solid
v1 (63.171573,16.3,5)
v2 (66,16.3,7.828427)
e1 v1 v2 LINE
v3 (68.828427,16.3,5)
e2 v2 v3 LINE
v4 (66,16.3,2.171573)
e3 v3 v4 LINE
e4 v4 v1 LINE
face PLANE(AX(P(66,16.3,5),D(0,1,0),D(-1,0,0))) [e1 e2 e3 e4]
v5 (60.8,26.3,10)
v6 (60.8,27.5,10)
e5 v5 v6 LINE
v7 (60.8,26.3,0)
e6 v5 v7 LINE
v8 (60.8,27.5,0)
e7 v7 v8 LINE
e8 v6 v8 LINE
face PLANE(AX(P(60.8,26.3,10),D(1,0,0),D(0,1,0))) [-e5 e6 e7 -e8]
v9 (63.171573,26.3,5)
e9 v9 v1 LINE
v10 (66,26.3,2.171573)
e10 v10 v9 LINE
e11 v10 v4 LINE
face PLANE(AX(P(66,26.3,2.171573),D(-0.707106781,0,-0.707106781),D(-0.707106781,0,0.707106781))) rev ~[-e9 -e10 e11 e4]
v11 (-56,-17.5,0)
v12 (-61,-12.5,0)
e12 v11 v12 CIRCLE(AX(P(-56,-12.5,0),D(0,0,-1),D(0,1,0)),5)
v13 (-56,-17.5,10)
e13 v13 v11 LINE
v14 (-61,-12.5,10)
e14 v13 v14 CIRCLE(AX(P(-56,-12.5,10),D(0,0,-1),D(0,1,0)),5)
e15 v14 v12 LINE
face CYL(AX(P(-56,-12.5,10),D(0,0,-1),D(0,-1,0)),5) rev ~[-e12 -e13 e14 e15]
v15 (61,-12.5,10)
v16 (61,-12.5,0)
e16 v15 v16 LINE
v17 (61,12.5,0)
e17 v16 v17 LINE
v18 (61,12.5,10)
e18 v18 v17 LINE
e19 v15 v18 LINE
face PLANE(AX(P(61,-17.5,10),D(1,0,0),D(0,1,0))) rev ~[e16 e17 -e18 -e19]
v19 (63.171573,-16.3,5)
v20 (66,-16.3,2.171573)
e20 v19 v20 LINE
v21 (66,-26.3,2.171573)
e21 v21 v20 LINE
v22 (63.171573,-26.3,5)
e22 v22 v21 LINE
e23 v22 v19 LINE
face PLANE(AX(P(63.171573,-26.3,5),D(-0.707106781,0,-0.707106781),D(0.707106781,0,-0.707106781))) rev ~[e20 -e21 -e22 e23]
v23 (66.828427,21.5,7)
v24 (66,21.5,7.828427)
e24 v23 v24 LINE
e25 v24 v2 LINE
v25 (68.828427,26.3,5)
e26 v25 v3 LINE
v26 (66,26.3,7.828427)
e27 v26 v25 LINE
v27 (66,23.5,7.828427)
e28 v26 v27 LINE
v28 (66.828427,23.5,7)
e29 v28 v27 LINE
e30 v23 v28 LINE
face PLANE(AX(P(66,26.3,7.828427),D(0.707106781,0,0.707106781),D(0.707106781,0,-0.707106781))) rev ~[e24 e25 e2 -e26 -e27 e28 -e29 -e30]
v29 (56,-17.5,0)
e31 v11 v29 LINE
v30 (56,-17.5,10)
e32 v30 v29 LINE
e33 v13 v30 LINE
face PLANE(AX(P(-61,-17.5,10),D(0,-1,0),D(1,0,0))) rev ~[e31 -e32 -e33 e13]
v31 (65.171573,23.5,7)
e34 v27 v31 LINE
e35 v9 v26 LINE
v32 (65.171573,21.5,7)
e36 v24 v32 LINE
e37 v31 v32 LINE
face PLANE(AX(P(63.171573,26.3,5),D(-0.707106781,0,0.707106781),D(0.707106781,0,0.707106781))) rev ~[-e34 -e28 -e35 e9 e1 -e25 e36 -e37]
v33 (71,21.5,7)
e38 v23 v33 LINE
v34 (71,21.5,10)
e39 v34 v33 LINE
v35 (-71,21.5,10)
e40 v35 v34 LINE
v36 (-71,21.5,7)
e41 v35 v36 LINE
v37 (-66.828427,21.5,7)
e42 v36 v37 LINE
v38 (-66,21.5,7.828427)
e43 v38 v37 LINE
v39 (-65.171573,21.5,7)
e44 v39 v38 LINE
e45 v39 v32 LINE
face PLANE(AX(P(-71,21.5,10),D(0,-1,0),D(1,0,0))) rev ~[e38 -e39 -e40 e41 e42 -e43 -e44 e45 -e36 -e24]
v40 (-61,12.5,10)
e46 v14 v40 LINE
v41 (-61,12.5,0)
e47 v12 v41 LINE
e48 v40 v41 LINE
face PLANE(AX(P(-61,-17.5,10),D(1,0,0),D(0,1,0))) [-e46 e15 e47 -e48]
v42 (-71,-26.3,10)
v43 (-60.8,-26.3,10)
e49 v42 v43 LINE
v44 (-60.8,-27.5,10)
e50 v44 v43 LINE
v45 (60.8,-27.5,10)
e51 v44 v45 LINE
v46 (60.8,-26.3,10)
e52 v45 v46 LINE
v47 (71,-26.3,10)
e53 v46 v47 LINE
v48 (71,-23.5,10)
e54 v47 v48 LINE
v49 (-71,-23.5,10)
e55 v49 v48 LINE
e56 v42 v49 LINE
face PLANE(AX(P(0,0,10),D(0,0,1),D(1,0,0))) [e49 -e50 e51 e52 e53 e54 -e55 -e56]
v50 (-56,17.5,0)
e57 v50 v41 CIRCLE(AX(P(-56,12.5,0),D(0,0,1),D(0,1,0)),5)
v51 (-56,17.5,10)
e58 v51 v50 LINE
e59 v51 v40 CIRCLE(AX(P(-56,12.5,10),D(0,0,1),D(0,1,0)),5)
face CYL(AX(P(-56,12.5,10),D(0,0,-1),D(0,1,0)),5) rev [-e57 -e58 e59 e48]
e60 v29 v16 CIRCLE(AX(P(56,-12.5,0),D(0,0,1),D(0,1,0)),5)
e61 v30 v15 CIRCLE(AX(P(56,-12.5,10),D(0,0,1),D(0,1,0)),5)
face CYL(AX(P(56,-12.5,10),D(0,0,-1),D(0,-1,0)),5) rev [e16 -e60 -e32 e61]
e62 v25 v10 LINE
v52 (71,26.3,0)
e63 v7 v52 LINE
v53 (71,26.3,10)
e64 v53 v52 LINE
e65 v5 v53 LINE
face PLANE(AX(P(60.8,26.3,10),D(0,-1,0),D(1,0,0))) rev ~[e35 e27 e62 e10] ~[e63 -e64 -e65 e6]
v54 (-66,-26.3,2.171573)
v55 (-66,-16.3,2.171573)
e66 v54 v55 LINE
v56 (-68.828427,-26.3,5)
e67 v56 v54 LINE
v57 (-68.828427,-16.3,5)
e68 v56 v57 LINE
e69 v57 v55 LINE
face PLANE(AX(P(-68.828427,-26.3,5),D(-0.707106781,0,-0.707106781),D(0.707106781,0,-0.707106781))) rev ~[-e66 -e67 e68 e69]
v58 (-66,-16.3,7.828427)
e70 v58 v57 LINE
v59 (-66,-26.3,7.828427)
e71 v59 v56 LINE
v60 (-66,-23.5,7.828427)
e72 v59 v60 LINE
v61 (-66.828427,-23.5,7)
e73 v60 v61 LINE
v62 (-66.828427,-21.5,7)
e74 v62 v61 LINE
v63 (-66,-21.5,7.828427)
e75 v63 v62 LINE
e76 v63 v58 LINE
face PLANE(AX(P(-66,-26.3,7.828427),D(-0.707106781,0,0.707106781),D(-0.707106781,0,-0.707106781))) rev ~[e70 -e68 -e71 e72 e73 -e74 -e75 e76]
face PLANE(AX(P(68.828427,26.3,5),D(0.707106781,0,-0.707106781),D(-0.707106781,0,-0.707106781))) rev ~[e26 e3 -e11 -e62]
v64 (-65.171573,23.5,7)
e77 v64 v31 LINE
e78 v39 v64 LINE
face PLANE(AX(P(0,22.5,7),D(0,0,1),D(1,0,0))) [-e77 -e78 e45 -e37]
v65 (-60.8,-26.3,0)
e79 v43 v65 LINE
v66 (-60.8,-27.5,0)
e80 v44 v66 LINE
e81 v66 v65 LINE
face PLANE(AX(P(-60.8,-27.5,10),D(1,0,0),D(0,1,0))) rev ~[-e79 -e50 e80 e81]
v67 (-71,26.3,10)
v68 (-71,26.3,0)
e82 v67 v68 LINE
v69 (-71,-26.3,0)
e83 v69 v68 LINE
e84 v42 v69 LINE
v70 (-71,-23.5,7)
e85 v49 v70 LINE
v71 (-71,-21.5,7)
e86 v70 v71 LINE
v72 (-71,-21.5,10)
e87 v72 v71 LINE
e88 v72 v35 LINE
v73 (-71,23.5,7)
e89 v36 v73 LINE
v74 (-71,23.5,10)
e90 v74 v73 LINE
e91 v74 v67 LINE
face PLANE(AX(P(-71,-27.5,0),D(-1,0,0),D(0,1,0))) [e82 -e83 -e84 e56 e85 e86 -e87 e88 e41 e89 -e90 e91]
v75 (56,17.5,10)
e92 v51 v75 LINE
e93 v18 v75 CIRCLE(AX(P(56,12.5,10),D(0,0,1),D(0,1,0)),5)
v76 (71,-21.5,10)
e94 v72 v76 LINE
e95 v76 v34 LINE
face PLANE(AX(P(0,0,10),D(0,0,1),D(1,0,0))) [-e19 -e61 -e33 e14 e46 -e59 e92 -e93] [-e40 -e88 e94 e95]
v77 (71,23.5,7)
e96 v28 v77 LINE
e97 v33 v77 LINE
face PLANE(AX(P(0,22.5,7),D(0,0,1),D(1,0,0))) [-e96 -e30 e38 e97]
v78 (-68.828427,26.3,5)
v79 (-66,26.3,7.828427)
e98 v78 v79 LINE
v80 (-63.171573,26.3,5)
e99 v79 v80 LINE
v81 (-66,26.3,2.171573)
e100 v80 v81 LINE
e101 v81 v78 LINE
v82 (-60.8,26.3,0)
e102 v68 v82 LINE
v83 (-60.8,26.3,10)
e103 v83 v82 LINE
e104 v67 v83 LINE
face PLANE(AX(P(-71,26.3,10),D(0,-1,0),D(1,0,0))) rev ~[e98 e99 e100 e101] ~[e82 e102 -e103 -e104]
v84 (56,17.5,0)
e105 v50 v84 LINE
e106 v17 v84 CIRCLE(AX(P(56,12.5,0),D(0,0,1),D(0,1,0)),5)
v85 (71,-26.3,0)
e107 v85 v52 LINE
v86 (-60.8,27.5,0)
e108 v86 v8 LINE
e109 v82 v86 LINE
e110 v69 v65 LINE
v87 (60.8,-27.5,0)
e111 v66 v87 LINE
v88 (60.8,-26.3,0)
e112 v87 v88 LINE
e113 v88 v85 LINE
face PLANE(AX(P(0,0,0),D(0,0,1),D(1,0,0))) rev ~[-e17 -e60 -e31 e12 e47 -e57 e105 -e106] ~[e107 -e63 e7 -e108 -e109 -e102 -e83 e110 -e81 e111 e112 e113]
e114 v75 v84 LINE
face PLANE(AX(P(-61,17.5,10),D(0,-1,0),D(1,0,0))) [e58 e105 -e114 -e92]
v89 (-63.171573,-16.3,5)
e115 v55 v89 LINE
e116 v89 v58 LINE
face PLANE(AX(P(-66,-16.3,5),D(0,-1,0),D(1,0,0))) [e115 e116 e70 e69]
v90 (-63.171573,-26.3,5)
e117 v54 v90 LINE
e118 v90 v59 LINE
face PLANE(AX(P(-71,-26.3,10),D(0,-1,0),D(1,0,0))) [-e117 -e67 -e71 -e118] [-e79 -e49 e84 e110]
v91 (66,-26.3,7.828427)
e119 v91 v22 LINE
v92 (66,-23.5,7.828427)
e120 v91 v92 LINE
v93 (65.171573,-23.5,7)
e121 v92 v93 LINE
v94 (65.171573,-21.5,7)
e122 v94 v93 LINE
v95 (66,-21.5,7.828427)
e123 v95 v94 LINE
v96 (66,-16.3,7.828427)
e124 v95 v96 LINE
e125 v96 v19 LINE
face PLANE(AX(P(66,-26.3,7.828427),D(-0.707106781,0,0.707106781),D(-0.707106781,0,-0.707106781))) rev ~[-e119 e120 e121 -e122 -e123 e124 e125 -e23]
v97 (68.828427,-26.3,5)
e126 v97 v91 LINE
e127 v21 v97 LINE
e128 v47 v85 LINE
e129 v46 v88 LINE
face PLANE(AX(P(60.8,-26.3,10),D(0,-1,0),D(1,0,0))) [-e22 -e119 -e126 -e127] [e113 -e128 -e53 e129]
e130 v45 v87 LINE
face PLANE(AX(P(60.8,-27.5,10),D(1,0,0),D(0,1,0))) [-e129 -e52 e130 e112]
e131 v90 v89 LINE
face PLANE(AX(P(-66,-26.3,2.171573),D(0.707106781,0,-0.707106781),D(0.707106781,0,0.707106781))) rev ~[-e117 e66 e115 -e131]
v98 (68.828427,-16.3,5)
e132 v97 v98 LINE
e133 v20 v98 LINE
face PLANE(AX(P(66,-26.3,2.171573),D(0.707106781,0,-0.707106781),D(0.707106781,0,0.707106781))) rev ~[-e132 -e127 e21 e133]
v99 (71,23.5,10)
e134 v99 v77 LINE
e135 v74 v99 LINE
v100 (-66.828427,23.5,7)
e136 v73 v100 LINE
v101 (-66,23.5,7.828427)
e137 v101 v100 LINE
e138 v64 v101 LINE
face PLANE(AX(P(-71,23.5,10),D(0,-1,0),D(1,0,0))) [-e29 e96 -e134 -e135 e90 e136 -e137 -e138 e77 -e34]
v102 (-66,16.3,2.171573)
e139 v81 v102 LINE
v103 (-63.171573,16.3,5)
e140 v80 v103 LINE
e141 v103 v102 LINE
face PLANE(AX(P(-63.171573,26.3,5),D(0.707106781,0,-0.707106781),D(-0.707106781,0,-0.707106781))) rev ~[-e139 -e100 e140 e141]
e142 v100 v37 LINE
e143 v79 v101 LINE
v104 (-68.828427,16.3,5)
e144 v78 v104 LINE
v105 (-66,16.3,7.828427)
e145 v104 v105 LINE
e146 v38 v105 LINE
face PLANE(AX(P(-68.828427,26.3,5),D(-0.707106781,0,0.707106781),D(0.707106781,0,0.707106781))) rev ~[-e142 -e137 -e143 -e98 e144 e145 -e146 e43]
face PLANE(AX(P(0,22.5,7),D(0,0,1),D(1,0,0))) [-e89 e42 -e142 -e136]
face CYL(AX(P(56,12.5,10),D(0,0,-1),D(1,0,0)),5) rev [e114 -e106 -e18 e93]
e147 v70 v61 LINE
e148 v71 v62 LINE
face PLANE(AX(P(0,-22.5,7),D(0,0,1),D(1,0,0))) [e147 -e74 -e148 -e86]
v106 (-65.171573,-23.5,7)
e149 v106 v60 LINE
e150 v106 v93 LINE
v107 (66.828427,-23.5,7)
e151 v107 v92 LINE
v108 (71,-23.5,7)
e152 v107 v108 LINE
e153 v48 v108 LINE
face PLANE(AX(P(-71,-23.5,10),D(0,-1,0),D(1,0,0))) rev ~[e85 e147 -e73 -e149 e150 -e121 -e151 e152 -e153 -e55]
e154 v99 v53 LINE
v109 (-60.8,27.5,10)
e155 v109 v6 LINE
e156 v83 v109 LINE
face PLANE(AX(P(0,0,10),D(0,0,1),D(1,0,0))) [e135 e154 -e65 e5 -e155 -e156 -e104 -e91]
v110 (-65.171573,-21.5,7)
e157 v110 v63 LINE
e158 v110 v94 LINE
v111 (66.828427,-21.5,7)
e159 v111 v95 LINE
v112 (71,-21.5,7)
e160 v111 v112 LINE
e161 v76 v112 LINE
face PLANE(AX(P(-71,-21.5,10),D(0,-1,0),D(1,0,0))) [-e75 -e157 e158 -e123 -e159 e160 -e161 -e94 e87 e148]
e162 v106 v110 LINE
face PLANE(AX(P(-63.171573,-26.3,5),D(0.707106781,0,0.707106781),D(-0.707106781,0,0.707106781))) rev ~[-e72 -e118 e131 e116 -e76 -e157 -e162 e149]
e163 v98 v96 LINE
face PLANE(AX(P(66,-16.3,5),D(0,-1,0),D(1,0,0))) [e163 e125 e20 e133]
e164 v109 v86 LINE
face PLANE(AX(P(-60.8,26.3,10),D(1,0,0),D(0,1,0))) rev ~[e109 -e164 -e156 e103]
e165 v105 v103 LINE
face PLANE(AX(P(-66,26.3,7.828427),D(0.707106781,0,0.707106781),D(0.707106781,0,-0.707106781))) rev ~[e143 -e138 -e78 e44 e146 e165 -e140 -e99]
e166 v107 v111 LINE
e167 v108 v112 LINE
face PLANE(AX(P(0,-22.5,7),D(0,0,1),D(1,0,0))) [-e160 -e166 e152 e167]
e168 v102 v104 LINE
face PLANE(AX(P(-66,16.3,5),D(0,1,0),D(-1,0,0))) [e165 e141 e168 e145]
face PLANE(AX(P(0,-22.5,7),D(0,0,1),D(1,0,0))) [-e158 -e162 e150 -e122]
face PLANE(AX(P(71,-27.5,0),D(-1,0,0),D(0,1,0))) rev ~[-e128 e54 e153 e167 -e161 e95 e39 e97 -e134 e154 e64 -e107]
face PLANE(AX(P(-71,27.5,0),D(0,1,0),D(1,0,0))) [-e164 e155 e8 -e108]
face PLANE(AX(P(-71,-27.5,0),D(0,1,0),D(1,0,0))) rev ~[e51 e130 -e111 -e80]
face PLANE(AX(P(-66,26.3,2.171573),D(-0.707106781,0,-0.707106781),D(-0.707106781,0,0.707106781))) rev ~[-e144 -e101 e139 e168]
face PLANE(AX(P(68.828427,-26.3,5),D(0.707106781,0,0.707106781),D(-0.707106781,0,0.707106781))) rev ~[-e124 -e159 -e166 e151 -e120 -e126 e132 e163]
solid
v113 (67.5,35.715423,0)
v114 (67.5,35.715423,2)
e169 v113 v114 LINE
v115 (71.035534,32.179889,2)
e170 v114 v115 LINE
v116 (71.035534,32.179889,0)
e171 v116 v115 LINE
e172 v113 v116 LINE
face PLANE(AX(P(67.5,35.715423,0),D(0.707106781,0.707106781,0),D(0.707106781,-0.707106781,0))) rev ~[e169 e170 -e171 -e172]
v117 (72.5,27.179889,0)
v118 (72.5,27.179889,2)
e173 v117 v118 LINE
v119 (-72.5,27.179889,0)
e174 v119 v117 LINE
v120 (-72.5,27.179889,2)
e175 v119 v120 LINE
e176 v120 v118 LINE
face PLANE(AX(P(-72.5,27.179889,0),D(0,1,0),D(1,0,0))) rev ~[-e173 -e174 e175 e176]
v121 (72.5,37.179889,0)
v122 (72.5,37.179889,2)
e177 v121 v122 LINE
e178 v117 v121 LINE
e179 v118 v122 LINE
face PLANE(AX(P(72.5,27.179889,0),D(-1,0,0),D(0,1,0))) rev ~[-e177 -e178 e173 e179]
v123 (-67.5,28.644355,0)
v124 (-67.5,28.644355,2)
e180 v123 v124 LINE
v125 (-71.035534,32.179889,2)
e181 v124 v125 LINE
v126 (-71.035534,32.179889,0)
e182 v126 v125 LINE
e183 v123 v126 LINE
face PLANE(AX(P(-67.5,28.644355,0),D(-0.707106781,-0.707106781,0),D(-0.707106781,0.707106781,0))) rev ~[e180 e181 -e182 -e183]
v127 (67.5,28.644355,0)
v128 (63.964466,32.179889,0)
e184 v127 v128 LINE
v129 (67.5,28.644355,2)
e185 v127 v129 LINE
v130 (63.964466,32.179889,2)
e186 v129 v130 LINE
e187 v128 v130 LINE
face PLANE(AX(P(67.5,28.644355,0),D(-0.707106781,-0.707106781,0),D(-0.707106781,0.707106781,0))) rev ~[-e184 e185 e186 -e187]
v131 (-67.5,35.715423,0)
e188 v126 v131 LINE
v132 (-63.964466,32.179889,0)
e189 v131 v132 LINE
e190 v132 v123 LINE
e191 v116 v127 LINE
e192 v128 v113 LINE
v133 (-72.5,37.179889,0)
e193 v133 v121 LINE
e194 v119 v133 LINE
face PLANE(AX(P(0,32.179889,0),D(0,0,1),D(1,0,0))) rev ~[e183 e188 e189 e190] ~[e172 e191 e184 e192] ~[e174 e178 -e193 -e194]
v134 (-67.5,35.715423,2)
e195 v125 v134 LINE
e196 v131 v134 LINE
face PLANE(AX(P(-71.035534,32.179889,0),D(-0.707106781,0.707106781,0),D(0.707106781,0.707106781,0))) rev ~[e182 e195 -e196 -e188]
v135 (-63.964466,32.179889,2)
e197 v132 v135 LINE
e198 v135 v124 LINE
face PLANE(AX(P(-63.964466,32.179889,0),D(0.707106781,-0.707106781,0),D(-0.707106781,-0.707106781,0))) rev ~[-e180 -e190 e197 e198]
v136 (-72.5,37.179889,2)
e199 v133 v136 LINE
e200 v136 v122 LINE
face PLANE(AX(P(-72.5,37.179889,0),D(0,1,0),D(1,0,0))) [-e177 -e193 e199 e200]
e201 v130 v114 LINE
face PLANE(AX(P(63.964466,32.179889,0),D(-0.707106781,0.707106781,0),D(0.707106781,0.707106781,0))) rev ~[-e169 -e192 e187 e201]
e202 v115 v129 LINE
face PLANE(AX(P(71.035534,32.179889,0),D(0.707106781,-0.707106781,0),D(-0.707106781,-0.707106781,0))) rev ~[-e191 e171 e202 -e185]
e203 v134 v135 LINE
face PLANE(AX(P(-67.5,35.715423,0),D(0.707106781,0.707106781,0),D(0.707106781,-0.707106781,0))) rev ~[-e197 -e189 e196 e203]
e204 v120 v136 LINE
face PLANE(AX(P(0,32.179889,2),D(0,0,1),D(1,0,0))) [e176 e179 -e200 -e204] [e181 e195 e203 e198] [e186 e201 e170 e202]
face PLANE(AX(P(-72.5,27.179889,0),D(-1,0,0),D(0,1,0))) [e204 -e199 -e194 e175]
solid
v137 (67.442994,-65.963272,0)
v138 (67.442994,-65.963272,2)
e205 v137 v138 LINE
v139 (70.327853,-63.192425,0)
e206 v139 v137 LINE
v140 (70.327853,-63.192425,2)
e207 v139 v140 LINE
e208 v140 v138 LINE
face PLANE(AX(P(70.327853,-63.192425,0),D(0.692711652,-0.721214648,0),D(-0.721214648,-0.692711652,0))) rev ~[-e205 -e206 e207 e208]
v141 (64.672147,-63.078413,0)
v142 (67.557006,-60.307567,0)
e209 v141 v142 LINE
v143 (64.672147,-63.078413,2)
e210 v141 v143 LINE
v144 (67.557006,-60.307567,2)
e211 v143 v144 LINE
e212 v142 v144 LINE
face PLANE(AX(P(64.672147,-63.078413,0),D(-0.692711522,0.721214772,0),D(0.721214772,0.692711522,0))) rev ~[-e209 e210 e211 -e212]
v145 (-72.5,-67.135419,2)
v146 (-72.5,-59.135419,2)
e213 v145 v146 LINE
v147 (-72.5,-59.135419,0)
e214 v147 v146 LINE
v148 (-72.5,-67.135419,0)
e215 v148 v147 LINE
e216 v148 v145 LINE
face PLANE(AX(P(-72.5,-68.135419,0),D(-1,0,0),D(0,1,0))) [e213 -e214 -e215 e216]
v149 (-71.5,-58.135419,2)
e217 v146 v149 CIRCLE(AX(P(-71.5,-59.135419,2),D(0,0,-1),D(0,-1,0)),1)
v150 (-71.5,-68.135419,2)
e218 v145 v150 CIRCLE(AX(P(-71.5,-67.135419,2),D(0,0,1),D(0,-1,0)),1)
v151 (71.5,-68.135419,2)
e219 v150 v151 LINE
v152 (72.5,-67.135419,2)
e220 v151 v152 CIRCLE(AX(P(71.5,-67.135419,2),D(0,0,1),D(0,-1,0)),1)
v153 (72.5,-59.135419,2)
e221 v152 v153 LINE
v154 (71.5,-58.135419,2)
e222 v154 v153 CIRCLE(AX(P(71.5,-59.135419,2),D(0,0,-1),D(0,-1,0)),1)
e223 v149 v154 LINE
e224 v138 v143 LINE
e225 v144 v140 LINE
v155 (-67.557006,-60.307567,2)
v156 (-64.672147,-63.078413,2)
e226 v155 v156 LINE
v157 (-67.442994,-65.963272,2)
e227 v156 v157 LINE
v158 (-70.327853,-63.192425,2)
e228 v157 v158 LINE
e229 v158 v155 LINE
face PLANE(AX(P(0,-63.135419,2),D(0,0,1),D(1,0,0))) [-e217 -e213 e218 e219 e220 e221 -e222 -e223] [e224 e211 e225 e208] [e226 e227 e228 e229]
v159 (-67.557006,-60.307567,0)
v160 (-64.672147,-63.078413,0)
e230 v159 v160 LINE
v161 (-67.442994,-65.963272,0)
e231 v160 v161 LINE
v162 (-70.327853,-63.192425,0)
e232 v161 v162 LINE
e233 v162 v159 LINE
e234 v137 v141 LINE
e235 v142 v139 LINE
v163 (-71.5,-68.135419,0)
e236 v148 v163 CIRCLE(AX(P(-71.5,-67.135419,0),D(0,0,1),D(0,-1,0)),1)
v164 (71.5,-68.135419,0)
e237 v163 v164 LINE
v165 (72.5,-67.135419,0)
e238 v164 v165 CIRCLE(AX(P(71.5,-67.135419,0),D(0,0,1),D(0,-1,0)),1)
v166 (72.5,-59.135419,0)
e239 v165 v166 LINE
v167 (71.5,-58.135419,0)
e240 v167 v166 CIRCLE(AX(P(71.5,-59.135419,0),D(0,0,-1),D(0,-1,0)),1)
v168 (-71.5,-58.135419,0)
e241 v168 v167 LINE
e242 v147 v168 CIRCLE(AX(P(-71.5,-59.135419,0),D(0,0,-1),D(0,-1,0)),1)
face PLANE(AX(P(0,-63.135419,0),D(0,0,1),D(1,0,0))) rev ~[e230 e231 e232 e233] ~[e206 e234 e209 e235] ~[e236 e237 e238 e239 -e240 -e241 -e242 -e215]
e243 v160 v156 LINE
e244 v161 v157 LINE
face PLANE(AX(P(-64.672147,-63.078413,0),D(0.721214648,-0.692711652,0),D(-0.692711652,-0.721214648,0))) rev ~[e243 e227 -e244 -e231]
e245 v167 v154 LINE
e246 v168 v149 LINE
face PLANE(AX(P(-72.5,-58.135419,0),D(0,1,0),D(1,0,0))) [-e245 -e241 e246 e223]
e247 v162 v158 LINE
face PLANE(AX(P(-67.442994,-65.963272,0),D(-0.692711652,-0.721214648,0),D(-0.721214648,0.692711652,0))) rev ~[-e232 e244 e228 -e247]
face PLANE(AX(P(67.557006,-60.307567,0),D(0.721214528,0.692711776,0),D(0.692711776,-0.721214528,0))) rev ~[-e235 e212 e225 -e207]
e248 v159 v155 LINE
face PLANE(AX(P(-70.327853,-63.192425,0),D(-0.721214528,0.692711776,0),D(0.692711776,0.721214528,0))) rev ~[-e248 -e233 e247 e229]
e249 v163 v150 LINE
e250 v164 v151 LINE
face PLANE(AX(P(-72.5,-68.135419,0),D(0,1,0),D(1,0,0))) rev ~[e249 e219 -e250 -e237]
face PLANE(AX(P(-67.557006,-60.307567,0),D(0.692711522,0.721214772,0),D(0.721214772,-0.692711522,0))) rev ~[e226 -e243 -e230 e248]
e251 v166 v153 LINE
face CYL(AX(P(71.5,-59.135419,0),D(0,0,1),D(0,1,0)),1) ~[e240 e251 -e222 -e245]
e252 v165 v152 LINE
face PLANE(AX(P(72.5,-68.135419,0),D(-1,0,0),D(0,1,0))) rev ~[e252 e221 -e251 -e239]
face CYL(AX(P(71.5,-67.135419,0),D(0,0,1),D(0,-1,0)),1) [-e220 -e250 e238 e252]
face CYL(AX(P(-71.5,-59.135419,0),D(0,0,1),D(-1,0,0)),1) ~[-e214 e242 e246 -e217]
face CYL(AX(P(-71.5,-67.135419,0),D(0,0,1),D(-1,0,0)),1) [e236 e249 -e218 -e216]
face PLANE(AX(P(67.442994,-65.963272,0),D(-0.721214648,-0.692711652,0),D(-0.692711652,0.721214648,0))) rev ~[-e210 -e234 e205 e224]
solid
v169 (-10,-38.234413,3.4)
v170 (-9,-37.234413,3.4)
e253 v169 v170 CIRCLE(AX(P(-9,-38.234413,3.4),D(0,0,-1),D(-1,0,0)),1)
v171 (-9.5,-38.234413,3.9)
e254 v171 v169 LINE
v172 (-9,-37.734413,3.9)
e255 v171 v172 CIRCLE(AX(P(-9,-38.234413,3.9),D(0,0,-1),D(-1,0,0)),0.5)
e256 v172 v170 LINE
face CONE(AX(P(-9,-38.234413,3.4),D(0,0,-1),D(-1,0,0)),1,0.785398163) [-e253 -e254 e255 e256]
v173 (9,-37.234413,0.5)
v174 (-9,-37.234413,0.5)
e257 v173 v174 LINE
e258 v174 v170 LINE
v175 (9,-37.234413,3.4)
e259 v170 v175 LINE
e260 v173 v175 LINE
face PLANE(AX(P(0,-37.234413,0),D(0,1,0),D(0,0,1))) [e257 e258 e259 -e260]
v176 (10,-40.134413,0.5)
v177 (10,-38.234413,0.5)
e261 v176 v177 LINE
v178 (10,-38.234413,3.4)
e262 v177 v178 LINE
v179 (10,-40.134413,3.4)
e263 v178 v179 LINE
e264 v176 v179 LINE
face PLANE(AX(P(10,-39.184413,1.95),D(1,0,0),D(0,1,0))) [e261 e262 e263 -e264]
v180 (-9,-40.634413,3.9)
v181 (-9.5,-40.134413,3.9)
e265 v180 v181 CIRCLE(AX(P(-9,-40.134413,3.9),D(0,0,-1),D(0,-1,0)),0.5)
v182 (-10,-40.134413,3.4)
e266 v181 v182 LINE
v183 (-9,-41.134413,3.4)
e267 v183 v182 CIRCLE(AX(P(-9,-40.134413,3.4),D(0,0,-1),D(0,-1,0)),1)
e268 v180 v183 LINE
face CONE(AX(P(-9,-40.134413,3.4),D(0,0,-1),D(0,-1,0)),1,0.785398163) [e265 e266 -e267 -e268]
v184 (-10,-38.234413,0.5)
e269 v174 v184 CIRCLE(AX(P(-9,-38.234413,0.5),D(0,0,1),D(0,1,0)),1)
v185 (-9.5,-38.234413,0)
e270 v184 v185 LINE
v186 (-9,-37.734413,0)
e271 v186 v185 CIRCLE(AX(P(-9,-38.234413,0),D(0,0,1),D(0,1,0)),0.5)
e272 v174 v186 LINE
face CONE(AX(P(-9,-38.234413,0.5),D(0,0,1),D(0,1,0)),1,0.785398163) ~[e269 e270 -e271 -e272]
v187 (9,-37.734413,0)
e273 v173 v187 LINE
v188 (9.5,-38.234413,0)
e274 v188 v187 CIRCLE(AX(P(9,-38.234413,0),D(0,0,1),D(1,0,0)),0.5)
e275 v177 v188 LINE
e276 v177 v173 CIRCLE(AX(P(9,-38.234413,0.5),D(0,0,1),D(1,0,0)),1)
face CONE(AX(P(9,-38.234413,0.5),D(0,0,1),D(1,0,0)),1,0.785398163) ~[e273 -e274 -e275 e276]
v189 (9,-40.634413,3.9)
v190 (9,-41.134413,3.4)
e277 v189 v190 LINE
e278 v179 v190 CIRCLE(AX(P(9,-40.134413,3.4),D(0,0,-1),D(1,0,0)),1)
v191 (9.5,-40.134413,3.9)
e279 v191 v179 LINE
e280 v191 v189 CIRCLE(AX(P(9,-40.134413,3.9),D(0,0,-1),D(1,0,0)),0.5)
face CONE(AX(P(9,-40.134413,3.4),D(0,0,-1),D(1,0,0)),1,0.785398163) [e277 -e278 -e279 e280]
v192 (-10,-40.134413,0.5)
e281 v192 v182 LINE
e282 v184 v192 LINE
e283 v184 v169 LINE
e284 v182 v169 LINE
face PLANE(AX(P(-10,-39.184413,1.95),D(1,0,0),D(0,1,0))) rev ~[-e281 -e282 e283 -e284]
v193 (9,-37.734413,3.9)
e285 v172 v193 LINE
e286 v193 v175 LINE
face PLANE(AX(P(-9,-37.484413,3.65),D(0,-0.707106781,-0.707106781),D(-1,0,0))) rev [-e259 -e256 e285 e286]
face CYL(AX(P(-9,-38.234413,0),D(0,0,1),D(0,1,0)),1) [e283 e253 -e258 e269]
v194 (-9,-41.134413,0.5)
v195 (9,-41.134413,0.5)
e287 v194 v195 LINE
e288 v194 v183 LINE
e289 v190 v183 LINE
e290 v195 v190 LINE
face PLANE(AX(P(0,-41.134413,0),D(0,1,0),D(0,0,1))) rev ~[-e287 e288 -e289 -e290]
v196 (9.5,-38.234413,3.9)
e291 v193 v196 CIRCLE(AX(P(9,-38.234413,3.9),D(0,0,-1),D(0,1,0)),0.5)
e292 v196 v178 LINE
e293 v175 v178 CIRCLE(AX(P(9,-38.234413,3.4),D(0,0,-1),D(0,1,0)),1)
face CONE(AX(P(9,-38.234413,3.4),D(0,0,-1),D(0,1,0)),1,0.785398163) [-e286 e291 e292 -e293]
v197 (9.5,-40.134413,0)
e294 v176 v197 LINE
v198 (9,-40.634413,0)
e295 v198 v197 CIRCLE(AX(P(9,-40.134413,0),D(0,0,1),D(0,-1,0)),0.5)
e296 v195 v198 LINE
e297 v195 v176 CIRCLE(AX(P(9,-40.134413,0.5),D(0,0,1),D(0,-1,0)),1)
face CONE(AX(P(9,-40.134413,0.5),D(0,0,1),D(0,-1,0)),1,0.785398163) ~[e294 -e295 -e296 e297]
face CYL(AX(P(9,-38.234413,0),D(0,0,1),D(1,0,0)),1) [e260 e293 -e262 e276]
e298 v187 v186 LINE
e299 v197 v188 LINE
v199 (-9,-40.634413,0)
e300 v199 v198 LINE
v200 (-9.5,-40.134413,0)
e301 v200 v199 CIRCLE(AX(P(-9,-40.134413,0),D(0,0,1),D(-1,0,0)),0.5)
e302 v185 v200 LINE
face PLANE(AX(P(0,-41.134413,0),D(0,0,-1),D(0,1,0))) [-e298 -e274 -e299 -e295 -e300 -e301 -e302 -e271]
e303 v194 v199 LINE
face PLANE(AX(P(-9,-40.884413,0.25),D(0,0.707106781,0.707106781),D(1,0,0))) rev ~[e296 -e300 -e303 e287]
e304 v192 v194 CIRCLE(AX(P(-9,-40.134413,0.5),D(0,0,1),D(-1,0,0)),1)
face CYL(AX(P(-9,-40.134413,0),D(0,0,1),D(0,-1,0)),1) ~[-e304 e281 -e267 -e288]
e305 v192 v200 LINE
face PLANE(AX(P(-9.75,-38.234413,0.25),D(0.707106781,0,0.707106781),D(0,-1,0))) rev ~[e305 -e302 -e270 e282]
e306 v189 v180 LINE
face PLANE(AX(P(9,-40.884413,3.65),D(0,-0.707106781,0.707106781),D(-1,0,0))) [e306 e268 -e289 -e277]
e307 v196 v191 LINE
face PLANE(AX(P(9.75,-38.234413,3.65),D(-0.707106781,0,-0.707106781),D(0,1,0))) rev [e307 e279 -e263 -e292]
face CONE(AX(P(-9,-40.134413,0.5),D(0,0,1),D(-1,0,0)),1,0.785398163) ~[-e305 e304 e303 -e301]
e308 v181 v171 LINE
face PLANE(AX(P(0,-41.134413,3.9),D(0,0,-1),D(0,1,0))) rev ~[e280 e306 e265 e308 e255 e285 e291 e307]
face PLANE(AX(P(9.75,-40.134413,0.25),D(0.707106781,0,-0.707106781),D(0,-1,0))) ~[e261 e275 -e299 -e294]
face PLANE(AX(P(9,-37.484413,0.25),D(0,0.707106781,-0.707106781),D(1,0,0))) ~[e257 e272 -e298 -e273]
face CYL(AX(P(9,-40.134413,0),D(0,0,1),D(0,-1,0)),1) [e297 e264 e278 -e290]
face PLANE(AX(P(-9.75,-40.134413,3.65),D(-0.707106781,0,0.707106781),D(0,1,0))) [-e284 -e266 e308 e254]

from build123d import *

# Parameters (mm, degrees)
F0_W      = 142
F0_H      = 55
F1_DEPTH  = 10
F2_W      = 142
F2_H      = 2
F3_DEPTH  = 3
F4_W      = 122
F4_H      = 35
F4_W_2    = 10.2
F4_H_2    = 1.2
F5_DEPTH  = 10.001
F7_DEPTH  = 10
F8_R      = 5
F9_W      = 3.9
F9_H      = 3.9
F10_DEPTH = 10
F11_R     = 1
F12_SIZE  = 0.5
F13_W     = 145
F13_H     = 10
F14_DEPTH = 2
F16_DEPTH = 10
F17_W     = 145
F17_H     = 10
F18_DEPTH = 2
F19_R     = 1


with BuildPart() as f1:
    # F0 (on Top) → F1 (new body)
    with BuildSketch(Plane.XY):
        Rectangle(F0_W, F0_H)
    extrude(amount=F1_DEPTH)

    # F2 (on face) → F3 (cut)
    with BuildSketch(Plane.XY.offset(10)):
        with Locations((0, 22.5)):
            Rectangle(F2_W, F2_H)
        with Locations((0, -22.5)):
            Rectangle(F2_W, F2_H)
    extrude(amount=-F3_DEPTH, mode=Mode.SUBTRACT)

    # F4 (on face) → F5 (cut, through all)
    with BuildSketch(Plane.XY.offset(10)):
        Rectangle(F4_W, F4_H)
        with Locations((-65.9, -26.9)):
            Rectangle(F4_W_2, F4_H_2)
        with Locations((-65.9, 26.9)):
            Rectangle(F4_W_2, F4_H_2)
        with Locations((65.9, 26.9)):
            Rectangle(F4_W_2, F4_H_2)
        with Locations((65.9, -26.9)):
            Rectangle(F4_W_2, F4_H_2)
    extrude(amount=-F5_DEPTH, mode=Mode.SUBTRACT)

    # F6 (on face) → F7 (cut)
    with BuildSketch(Plane.XZ.offset(26.3)):
        Polygon((-66, 2.171573), (-63.171573, 5), (-66, 7.828427), (-68.828427, 5), align=None)
        Polygon((66, 7.828427), (63.171573, 5), (66, 2.171573), (68.828427, 5), align=None)
    extrude(amount=-F7_DEPTH, mode=Mode.SUBTRACT)

    # F8
    f8_edges = [f1.edges().sort_by_distance(p)[0] for p in [
        (-61, -17.5, 5),
        (-61, 17.5, 5),
        (61, 17.5, 5),
        (61, -17.5, 5),
    ]]
    fillet(f8_edges, radius=F8_R)

    # F15 (on face) → F16 (cut)
    with BuildSketch(Plane(origin=(0, 26.3, 0), x_dir=(-1, 0, 0), z_dir=(0, 1, 0))):
        Polygon((68.828427, 5), (66, 7.828427), (63.171573, 5), (66, 2.171573), align=None)
        Polygon((-66, 7.828427), (-68.828427, 5), (-66, 2.171573), (-63.171573, 5), align=None)
    extrude(amount=-F16_DEPTH, mode=Mode.SUBTRACT)


with BuildPart() as f10:
    # F9 (on Right) → F10 (new body, symmetric)
    with BuildSketch(Plane.YZ):
        with Locations((-39.184413, 1.95)):
            Rectangle(F9_W, F9_H)
    extrude(amount=F10_DEPTH, both=True)

    # F11
    f11_edges = [f10.edges().sort_by_distance(p)[0] for p in [
        (10, -41.134413, 1.95),
        (10, -37.234413, 1.95),
        (-10, -41.134413, 1.95),
        (-10, -37.234413, 1.95),
    ]]
    fillet(f11_edges, radius=F11_R)

    # F12
    f12_edges = [f10.edges().sort_by_distance(p)[0] for p in [
        (-10, -39.184413, 3.9),
        (-9.707107, -37.527306, 3.9),
        (-9.707107, -40.841519, 3.9),
        (0, -37.234413, 3.9),
        (0, -41.134413, 3.9),
        (9.707107, -37.527306, 3.9),
        (9.707107, -40.841519, 3.9),
        (10, -39.184413, 3.9),
        (0, -41.134413, 0),
        (-9.707107, -40.841519, 0),
        (9.707107, -40.841519, 0),
        (-10, -39.184413, 0),
        (10, -39.184413, 0),
        (-9.707107, -37.527306, 0),
        (9.707107, -37.527306, 0),
        (0, -37.234413, 0),
    ]]
    chamfer(f12_edges, length=F12_SIZE)


with BuildPart() as f14:
    # F13 (on Top) → F14 (new body)
    with BuildSketch(Plane.XY):
        with Locations((0, 32.179889)):
            Rectangle(F13_W, F13_H)
        Polygon((-67.5, 35.715423), (-63.964466, 32.179889), (-67.5, 28.644355), (-71.035534, 32.179889), align=None, mode=Mode.SUBTRACT)
        Polygon((63.964466, 32.179889), (67.5, 35.715423), (71.035534, 32.179889), (67.5, 28.644355), align=None, mode=Mode.SUBTRACT)
    extrude(amount=F14_DEPTH)


with BuildPart() as f18:
    # F17 (on Top) → F18 (new body)
    with BuildSketch(Plane.XY):
        with Locations((0, -63.135419)):
            Rectangle(F17_W, F17_H)
        Polygon((-67.557006, -60.307567), (-64.672147, -63.078413), (-67.442994, -65.963272), (-70.327853, -63.192425), align=None, mode=Mode.SUBTRACT)
        Polygon((64.672147, -63.078413), (67.557006, -60.307567), (70.327853, -63.192425), (67.442994, -65.963272), align=None, mode=Mode.SUBTRACT)
    extrude(amount=F18_DEPTH)

    # F19
    f19_edges = [f18.edges().sort_by_distance(p)[0] for p in [
        (-72.5, -68.135419, 1),
        (72.5, -68.135419, 1),
        (72.5, -58.135419, 1),
        (-72.5, -58.135419, 1),
    ]]
    fillet(f19_edges, radius=F19_R)


solid = Compound([f1.part, f10.part, f14.part, f18.part])
